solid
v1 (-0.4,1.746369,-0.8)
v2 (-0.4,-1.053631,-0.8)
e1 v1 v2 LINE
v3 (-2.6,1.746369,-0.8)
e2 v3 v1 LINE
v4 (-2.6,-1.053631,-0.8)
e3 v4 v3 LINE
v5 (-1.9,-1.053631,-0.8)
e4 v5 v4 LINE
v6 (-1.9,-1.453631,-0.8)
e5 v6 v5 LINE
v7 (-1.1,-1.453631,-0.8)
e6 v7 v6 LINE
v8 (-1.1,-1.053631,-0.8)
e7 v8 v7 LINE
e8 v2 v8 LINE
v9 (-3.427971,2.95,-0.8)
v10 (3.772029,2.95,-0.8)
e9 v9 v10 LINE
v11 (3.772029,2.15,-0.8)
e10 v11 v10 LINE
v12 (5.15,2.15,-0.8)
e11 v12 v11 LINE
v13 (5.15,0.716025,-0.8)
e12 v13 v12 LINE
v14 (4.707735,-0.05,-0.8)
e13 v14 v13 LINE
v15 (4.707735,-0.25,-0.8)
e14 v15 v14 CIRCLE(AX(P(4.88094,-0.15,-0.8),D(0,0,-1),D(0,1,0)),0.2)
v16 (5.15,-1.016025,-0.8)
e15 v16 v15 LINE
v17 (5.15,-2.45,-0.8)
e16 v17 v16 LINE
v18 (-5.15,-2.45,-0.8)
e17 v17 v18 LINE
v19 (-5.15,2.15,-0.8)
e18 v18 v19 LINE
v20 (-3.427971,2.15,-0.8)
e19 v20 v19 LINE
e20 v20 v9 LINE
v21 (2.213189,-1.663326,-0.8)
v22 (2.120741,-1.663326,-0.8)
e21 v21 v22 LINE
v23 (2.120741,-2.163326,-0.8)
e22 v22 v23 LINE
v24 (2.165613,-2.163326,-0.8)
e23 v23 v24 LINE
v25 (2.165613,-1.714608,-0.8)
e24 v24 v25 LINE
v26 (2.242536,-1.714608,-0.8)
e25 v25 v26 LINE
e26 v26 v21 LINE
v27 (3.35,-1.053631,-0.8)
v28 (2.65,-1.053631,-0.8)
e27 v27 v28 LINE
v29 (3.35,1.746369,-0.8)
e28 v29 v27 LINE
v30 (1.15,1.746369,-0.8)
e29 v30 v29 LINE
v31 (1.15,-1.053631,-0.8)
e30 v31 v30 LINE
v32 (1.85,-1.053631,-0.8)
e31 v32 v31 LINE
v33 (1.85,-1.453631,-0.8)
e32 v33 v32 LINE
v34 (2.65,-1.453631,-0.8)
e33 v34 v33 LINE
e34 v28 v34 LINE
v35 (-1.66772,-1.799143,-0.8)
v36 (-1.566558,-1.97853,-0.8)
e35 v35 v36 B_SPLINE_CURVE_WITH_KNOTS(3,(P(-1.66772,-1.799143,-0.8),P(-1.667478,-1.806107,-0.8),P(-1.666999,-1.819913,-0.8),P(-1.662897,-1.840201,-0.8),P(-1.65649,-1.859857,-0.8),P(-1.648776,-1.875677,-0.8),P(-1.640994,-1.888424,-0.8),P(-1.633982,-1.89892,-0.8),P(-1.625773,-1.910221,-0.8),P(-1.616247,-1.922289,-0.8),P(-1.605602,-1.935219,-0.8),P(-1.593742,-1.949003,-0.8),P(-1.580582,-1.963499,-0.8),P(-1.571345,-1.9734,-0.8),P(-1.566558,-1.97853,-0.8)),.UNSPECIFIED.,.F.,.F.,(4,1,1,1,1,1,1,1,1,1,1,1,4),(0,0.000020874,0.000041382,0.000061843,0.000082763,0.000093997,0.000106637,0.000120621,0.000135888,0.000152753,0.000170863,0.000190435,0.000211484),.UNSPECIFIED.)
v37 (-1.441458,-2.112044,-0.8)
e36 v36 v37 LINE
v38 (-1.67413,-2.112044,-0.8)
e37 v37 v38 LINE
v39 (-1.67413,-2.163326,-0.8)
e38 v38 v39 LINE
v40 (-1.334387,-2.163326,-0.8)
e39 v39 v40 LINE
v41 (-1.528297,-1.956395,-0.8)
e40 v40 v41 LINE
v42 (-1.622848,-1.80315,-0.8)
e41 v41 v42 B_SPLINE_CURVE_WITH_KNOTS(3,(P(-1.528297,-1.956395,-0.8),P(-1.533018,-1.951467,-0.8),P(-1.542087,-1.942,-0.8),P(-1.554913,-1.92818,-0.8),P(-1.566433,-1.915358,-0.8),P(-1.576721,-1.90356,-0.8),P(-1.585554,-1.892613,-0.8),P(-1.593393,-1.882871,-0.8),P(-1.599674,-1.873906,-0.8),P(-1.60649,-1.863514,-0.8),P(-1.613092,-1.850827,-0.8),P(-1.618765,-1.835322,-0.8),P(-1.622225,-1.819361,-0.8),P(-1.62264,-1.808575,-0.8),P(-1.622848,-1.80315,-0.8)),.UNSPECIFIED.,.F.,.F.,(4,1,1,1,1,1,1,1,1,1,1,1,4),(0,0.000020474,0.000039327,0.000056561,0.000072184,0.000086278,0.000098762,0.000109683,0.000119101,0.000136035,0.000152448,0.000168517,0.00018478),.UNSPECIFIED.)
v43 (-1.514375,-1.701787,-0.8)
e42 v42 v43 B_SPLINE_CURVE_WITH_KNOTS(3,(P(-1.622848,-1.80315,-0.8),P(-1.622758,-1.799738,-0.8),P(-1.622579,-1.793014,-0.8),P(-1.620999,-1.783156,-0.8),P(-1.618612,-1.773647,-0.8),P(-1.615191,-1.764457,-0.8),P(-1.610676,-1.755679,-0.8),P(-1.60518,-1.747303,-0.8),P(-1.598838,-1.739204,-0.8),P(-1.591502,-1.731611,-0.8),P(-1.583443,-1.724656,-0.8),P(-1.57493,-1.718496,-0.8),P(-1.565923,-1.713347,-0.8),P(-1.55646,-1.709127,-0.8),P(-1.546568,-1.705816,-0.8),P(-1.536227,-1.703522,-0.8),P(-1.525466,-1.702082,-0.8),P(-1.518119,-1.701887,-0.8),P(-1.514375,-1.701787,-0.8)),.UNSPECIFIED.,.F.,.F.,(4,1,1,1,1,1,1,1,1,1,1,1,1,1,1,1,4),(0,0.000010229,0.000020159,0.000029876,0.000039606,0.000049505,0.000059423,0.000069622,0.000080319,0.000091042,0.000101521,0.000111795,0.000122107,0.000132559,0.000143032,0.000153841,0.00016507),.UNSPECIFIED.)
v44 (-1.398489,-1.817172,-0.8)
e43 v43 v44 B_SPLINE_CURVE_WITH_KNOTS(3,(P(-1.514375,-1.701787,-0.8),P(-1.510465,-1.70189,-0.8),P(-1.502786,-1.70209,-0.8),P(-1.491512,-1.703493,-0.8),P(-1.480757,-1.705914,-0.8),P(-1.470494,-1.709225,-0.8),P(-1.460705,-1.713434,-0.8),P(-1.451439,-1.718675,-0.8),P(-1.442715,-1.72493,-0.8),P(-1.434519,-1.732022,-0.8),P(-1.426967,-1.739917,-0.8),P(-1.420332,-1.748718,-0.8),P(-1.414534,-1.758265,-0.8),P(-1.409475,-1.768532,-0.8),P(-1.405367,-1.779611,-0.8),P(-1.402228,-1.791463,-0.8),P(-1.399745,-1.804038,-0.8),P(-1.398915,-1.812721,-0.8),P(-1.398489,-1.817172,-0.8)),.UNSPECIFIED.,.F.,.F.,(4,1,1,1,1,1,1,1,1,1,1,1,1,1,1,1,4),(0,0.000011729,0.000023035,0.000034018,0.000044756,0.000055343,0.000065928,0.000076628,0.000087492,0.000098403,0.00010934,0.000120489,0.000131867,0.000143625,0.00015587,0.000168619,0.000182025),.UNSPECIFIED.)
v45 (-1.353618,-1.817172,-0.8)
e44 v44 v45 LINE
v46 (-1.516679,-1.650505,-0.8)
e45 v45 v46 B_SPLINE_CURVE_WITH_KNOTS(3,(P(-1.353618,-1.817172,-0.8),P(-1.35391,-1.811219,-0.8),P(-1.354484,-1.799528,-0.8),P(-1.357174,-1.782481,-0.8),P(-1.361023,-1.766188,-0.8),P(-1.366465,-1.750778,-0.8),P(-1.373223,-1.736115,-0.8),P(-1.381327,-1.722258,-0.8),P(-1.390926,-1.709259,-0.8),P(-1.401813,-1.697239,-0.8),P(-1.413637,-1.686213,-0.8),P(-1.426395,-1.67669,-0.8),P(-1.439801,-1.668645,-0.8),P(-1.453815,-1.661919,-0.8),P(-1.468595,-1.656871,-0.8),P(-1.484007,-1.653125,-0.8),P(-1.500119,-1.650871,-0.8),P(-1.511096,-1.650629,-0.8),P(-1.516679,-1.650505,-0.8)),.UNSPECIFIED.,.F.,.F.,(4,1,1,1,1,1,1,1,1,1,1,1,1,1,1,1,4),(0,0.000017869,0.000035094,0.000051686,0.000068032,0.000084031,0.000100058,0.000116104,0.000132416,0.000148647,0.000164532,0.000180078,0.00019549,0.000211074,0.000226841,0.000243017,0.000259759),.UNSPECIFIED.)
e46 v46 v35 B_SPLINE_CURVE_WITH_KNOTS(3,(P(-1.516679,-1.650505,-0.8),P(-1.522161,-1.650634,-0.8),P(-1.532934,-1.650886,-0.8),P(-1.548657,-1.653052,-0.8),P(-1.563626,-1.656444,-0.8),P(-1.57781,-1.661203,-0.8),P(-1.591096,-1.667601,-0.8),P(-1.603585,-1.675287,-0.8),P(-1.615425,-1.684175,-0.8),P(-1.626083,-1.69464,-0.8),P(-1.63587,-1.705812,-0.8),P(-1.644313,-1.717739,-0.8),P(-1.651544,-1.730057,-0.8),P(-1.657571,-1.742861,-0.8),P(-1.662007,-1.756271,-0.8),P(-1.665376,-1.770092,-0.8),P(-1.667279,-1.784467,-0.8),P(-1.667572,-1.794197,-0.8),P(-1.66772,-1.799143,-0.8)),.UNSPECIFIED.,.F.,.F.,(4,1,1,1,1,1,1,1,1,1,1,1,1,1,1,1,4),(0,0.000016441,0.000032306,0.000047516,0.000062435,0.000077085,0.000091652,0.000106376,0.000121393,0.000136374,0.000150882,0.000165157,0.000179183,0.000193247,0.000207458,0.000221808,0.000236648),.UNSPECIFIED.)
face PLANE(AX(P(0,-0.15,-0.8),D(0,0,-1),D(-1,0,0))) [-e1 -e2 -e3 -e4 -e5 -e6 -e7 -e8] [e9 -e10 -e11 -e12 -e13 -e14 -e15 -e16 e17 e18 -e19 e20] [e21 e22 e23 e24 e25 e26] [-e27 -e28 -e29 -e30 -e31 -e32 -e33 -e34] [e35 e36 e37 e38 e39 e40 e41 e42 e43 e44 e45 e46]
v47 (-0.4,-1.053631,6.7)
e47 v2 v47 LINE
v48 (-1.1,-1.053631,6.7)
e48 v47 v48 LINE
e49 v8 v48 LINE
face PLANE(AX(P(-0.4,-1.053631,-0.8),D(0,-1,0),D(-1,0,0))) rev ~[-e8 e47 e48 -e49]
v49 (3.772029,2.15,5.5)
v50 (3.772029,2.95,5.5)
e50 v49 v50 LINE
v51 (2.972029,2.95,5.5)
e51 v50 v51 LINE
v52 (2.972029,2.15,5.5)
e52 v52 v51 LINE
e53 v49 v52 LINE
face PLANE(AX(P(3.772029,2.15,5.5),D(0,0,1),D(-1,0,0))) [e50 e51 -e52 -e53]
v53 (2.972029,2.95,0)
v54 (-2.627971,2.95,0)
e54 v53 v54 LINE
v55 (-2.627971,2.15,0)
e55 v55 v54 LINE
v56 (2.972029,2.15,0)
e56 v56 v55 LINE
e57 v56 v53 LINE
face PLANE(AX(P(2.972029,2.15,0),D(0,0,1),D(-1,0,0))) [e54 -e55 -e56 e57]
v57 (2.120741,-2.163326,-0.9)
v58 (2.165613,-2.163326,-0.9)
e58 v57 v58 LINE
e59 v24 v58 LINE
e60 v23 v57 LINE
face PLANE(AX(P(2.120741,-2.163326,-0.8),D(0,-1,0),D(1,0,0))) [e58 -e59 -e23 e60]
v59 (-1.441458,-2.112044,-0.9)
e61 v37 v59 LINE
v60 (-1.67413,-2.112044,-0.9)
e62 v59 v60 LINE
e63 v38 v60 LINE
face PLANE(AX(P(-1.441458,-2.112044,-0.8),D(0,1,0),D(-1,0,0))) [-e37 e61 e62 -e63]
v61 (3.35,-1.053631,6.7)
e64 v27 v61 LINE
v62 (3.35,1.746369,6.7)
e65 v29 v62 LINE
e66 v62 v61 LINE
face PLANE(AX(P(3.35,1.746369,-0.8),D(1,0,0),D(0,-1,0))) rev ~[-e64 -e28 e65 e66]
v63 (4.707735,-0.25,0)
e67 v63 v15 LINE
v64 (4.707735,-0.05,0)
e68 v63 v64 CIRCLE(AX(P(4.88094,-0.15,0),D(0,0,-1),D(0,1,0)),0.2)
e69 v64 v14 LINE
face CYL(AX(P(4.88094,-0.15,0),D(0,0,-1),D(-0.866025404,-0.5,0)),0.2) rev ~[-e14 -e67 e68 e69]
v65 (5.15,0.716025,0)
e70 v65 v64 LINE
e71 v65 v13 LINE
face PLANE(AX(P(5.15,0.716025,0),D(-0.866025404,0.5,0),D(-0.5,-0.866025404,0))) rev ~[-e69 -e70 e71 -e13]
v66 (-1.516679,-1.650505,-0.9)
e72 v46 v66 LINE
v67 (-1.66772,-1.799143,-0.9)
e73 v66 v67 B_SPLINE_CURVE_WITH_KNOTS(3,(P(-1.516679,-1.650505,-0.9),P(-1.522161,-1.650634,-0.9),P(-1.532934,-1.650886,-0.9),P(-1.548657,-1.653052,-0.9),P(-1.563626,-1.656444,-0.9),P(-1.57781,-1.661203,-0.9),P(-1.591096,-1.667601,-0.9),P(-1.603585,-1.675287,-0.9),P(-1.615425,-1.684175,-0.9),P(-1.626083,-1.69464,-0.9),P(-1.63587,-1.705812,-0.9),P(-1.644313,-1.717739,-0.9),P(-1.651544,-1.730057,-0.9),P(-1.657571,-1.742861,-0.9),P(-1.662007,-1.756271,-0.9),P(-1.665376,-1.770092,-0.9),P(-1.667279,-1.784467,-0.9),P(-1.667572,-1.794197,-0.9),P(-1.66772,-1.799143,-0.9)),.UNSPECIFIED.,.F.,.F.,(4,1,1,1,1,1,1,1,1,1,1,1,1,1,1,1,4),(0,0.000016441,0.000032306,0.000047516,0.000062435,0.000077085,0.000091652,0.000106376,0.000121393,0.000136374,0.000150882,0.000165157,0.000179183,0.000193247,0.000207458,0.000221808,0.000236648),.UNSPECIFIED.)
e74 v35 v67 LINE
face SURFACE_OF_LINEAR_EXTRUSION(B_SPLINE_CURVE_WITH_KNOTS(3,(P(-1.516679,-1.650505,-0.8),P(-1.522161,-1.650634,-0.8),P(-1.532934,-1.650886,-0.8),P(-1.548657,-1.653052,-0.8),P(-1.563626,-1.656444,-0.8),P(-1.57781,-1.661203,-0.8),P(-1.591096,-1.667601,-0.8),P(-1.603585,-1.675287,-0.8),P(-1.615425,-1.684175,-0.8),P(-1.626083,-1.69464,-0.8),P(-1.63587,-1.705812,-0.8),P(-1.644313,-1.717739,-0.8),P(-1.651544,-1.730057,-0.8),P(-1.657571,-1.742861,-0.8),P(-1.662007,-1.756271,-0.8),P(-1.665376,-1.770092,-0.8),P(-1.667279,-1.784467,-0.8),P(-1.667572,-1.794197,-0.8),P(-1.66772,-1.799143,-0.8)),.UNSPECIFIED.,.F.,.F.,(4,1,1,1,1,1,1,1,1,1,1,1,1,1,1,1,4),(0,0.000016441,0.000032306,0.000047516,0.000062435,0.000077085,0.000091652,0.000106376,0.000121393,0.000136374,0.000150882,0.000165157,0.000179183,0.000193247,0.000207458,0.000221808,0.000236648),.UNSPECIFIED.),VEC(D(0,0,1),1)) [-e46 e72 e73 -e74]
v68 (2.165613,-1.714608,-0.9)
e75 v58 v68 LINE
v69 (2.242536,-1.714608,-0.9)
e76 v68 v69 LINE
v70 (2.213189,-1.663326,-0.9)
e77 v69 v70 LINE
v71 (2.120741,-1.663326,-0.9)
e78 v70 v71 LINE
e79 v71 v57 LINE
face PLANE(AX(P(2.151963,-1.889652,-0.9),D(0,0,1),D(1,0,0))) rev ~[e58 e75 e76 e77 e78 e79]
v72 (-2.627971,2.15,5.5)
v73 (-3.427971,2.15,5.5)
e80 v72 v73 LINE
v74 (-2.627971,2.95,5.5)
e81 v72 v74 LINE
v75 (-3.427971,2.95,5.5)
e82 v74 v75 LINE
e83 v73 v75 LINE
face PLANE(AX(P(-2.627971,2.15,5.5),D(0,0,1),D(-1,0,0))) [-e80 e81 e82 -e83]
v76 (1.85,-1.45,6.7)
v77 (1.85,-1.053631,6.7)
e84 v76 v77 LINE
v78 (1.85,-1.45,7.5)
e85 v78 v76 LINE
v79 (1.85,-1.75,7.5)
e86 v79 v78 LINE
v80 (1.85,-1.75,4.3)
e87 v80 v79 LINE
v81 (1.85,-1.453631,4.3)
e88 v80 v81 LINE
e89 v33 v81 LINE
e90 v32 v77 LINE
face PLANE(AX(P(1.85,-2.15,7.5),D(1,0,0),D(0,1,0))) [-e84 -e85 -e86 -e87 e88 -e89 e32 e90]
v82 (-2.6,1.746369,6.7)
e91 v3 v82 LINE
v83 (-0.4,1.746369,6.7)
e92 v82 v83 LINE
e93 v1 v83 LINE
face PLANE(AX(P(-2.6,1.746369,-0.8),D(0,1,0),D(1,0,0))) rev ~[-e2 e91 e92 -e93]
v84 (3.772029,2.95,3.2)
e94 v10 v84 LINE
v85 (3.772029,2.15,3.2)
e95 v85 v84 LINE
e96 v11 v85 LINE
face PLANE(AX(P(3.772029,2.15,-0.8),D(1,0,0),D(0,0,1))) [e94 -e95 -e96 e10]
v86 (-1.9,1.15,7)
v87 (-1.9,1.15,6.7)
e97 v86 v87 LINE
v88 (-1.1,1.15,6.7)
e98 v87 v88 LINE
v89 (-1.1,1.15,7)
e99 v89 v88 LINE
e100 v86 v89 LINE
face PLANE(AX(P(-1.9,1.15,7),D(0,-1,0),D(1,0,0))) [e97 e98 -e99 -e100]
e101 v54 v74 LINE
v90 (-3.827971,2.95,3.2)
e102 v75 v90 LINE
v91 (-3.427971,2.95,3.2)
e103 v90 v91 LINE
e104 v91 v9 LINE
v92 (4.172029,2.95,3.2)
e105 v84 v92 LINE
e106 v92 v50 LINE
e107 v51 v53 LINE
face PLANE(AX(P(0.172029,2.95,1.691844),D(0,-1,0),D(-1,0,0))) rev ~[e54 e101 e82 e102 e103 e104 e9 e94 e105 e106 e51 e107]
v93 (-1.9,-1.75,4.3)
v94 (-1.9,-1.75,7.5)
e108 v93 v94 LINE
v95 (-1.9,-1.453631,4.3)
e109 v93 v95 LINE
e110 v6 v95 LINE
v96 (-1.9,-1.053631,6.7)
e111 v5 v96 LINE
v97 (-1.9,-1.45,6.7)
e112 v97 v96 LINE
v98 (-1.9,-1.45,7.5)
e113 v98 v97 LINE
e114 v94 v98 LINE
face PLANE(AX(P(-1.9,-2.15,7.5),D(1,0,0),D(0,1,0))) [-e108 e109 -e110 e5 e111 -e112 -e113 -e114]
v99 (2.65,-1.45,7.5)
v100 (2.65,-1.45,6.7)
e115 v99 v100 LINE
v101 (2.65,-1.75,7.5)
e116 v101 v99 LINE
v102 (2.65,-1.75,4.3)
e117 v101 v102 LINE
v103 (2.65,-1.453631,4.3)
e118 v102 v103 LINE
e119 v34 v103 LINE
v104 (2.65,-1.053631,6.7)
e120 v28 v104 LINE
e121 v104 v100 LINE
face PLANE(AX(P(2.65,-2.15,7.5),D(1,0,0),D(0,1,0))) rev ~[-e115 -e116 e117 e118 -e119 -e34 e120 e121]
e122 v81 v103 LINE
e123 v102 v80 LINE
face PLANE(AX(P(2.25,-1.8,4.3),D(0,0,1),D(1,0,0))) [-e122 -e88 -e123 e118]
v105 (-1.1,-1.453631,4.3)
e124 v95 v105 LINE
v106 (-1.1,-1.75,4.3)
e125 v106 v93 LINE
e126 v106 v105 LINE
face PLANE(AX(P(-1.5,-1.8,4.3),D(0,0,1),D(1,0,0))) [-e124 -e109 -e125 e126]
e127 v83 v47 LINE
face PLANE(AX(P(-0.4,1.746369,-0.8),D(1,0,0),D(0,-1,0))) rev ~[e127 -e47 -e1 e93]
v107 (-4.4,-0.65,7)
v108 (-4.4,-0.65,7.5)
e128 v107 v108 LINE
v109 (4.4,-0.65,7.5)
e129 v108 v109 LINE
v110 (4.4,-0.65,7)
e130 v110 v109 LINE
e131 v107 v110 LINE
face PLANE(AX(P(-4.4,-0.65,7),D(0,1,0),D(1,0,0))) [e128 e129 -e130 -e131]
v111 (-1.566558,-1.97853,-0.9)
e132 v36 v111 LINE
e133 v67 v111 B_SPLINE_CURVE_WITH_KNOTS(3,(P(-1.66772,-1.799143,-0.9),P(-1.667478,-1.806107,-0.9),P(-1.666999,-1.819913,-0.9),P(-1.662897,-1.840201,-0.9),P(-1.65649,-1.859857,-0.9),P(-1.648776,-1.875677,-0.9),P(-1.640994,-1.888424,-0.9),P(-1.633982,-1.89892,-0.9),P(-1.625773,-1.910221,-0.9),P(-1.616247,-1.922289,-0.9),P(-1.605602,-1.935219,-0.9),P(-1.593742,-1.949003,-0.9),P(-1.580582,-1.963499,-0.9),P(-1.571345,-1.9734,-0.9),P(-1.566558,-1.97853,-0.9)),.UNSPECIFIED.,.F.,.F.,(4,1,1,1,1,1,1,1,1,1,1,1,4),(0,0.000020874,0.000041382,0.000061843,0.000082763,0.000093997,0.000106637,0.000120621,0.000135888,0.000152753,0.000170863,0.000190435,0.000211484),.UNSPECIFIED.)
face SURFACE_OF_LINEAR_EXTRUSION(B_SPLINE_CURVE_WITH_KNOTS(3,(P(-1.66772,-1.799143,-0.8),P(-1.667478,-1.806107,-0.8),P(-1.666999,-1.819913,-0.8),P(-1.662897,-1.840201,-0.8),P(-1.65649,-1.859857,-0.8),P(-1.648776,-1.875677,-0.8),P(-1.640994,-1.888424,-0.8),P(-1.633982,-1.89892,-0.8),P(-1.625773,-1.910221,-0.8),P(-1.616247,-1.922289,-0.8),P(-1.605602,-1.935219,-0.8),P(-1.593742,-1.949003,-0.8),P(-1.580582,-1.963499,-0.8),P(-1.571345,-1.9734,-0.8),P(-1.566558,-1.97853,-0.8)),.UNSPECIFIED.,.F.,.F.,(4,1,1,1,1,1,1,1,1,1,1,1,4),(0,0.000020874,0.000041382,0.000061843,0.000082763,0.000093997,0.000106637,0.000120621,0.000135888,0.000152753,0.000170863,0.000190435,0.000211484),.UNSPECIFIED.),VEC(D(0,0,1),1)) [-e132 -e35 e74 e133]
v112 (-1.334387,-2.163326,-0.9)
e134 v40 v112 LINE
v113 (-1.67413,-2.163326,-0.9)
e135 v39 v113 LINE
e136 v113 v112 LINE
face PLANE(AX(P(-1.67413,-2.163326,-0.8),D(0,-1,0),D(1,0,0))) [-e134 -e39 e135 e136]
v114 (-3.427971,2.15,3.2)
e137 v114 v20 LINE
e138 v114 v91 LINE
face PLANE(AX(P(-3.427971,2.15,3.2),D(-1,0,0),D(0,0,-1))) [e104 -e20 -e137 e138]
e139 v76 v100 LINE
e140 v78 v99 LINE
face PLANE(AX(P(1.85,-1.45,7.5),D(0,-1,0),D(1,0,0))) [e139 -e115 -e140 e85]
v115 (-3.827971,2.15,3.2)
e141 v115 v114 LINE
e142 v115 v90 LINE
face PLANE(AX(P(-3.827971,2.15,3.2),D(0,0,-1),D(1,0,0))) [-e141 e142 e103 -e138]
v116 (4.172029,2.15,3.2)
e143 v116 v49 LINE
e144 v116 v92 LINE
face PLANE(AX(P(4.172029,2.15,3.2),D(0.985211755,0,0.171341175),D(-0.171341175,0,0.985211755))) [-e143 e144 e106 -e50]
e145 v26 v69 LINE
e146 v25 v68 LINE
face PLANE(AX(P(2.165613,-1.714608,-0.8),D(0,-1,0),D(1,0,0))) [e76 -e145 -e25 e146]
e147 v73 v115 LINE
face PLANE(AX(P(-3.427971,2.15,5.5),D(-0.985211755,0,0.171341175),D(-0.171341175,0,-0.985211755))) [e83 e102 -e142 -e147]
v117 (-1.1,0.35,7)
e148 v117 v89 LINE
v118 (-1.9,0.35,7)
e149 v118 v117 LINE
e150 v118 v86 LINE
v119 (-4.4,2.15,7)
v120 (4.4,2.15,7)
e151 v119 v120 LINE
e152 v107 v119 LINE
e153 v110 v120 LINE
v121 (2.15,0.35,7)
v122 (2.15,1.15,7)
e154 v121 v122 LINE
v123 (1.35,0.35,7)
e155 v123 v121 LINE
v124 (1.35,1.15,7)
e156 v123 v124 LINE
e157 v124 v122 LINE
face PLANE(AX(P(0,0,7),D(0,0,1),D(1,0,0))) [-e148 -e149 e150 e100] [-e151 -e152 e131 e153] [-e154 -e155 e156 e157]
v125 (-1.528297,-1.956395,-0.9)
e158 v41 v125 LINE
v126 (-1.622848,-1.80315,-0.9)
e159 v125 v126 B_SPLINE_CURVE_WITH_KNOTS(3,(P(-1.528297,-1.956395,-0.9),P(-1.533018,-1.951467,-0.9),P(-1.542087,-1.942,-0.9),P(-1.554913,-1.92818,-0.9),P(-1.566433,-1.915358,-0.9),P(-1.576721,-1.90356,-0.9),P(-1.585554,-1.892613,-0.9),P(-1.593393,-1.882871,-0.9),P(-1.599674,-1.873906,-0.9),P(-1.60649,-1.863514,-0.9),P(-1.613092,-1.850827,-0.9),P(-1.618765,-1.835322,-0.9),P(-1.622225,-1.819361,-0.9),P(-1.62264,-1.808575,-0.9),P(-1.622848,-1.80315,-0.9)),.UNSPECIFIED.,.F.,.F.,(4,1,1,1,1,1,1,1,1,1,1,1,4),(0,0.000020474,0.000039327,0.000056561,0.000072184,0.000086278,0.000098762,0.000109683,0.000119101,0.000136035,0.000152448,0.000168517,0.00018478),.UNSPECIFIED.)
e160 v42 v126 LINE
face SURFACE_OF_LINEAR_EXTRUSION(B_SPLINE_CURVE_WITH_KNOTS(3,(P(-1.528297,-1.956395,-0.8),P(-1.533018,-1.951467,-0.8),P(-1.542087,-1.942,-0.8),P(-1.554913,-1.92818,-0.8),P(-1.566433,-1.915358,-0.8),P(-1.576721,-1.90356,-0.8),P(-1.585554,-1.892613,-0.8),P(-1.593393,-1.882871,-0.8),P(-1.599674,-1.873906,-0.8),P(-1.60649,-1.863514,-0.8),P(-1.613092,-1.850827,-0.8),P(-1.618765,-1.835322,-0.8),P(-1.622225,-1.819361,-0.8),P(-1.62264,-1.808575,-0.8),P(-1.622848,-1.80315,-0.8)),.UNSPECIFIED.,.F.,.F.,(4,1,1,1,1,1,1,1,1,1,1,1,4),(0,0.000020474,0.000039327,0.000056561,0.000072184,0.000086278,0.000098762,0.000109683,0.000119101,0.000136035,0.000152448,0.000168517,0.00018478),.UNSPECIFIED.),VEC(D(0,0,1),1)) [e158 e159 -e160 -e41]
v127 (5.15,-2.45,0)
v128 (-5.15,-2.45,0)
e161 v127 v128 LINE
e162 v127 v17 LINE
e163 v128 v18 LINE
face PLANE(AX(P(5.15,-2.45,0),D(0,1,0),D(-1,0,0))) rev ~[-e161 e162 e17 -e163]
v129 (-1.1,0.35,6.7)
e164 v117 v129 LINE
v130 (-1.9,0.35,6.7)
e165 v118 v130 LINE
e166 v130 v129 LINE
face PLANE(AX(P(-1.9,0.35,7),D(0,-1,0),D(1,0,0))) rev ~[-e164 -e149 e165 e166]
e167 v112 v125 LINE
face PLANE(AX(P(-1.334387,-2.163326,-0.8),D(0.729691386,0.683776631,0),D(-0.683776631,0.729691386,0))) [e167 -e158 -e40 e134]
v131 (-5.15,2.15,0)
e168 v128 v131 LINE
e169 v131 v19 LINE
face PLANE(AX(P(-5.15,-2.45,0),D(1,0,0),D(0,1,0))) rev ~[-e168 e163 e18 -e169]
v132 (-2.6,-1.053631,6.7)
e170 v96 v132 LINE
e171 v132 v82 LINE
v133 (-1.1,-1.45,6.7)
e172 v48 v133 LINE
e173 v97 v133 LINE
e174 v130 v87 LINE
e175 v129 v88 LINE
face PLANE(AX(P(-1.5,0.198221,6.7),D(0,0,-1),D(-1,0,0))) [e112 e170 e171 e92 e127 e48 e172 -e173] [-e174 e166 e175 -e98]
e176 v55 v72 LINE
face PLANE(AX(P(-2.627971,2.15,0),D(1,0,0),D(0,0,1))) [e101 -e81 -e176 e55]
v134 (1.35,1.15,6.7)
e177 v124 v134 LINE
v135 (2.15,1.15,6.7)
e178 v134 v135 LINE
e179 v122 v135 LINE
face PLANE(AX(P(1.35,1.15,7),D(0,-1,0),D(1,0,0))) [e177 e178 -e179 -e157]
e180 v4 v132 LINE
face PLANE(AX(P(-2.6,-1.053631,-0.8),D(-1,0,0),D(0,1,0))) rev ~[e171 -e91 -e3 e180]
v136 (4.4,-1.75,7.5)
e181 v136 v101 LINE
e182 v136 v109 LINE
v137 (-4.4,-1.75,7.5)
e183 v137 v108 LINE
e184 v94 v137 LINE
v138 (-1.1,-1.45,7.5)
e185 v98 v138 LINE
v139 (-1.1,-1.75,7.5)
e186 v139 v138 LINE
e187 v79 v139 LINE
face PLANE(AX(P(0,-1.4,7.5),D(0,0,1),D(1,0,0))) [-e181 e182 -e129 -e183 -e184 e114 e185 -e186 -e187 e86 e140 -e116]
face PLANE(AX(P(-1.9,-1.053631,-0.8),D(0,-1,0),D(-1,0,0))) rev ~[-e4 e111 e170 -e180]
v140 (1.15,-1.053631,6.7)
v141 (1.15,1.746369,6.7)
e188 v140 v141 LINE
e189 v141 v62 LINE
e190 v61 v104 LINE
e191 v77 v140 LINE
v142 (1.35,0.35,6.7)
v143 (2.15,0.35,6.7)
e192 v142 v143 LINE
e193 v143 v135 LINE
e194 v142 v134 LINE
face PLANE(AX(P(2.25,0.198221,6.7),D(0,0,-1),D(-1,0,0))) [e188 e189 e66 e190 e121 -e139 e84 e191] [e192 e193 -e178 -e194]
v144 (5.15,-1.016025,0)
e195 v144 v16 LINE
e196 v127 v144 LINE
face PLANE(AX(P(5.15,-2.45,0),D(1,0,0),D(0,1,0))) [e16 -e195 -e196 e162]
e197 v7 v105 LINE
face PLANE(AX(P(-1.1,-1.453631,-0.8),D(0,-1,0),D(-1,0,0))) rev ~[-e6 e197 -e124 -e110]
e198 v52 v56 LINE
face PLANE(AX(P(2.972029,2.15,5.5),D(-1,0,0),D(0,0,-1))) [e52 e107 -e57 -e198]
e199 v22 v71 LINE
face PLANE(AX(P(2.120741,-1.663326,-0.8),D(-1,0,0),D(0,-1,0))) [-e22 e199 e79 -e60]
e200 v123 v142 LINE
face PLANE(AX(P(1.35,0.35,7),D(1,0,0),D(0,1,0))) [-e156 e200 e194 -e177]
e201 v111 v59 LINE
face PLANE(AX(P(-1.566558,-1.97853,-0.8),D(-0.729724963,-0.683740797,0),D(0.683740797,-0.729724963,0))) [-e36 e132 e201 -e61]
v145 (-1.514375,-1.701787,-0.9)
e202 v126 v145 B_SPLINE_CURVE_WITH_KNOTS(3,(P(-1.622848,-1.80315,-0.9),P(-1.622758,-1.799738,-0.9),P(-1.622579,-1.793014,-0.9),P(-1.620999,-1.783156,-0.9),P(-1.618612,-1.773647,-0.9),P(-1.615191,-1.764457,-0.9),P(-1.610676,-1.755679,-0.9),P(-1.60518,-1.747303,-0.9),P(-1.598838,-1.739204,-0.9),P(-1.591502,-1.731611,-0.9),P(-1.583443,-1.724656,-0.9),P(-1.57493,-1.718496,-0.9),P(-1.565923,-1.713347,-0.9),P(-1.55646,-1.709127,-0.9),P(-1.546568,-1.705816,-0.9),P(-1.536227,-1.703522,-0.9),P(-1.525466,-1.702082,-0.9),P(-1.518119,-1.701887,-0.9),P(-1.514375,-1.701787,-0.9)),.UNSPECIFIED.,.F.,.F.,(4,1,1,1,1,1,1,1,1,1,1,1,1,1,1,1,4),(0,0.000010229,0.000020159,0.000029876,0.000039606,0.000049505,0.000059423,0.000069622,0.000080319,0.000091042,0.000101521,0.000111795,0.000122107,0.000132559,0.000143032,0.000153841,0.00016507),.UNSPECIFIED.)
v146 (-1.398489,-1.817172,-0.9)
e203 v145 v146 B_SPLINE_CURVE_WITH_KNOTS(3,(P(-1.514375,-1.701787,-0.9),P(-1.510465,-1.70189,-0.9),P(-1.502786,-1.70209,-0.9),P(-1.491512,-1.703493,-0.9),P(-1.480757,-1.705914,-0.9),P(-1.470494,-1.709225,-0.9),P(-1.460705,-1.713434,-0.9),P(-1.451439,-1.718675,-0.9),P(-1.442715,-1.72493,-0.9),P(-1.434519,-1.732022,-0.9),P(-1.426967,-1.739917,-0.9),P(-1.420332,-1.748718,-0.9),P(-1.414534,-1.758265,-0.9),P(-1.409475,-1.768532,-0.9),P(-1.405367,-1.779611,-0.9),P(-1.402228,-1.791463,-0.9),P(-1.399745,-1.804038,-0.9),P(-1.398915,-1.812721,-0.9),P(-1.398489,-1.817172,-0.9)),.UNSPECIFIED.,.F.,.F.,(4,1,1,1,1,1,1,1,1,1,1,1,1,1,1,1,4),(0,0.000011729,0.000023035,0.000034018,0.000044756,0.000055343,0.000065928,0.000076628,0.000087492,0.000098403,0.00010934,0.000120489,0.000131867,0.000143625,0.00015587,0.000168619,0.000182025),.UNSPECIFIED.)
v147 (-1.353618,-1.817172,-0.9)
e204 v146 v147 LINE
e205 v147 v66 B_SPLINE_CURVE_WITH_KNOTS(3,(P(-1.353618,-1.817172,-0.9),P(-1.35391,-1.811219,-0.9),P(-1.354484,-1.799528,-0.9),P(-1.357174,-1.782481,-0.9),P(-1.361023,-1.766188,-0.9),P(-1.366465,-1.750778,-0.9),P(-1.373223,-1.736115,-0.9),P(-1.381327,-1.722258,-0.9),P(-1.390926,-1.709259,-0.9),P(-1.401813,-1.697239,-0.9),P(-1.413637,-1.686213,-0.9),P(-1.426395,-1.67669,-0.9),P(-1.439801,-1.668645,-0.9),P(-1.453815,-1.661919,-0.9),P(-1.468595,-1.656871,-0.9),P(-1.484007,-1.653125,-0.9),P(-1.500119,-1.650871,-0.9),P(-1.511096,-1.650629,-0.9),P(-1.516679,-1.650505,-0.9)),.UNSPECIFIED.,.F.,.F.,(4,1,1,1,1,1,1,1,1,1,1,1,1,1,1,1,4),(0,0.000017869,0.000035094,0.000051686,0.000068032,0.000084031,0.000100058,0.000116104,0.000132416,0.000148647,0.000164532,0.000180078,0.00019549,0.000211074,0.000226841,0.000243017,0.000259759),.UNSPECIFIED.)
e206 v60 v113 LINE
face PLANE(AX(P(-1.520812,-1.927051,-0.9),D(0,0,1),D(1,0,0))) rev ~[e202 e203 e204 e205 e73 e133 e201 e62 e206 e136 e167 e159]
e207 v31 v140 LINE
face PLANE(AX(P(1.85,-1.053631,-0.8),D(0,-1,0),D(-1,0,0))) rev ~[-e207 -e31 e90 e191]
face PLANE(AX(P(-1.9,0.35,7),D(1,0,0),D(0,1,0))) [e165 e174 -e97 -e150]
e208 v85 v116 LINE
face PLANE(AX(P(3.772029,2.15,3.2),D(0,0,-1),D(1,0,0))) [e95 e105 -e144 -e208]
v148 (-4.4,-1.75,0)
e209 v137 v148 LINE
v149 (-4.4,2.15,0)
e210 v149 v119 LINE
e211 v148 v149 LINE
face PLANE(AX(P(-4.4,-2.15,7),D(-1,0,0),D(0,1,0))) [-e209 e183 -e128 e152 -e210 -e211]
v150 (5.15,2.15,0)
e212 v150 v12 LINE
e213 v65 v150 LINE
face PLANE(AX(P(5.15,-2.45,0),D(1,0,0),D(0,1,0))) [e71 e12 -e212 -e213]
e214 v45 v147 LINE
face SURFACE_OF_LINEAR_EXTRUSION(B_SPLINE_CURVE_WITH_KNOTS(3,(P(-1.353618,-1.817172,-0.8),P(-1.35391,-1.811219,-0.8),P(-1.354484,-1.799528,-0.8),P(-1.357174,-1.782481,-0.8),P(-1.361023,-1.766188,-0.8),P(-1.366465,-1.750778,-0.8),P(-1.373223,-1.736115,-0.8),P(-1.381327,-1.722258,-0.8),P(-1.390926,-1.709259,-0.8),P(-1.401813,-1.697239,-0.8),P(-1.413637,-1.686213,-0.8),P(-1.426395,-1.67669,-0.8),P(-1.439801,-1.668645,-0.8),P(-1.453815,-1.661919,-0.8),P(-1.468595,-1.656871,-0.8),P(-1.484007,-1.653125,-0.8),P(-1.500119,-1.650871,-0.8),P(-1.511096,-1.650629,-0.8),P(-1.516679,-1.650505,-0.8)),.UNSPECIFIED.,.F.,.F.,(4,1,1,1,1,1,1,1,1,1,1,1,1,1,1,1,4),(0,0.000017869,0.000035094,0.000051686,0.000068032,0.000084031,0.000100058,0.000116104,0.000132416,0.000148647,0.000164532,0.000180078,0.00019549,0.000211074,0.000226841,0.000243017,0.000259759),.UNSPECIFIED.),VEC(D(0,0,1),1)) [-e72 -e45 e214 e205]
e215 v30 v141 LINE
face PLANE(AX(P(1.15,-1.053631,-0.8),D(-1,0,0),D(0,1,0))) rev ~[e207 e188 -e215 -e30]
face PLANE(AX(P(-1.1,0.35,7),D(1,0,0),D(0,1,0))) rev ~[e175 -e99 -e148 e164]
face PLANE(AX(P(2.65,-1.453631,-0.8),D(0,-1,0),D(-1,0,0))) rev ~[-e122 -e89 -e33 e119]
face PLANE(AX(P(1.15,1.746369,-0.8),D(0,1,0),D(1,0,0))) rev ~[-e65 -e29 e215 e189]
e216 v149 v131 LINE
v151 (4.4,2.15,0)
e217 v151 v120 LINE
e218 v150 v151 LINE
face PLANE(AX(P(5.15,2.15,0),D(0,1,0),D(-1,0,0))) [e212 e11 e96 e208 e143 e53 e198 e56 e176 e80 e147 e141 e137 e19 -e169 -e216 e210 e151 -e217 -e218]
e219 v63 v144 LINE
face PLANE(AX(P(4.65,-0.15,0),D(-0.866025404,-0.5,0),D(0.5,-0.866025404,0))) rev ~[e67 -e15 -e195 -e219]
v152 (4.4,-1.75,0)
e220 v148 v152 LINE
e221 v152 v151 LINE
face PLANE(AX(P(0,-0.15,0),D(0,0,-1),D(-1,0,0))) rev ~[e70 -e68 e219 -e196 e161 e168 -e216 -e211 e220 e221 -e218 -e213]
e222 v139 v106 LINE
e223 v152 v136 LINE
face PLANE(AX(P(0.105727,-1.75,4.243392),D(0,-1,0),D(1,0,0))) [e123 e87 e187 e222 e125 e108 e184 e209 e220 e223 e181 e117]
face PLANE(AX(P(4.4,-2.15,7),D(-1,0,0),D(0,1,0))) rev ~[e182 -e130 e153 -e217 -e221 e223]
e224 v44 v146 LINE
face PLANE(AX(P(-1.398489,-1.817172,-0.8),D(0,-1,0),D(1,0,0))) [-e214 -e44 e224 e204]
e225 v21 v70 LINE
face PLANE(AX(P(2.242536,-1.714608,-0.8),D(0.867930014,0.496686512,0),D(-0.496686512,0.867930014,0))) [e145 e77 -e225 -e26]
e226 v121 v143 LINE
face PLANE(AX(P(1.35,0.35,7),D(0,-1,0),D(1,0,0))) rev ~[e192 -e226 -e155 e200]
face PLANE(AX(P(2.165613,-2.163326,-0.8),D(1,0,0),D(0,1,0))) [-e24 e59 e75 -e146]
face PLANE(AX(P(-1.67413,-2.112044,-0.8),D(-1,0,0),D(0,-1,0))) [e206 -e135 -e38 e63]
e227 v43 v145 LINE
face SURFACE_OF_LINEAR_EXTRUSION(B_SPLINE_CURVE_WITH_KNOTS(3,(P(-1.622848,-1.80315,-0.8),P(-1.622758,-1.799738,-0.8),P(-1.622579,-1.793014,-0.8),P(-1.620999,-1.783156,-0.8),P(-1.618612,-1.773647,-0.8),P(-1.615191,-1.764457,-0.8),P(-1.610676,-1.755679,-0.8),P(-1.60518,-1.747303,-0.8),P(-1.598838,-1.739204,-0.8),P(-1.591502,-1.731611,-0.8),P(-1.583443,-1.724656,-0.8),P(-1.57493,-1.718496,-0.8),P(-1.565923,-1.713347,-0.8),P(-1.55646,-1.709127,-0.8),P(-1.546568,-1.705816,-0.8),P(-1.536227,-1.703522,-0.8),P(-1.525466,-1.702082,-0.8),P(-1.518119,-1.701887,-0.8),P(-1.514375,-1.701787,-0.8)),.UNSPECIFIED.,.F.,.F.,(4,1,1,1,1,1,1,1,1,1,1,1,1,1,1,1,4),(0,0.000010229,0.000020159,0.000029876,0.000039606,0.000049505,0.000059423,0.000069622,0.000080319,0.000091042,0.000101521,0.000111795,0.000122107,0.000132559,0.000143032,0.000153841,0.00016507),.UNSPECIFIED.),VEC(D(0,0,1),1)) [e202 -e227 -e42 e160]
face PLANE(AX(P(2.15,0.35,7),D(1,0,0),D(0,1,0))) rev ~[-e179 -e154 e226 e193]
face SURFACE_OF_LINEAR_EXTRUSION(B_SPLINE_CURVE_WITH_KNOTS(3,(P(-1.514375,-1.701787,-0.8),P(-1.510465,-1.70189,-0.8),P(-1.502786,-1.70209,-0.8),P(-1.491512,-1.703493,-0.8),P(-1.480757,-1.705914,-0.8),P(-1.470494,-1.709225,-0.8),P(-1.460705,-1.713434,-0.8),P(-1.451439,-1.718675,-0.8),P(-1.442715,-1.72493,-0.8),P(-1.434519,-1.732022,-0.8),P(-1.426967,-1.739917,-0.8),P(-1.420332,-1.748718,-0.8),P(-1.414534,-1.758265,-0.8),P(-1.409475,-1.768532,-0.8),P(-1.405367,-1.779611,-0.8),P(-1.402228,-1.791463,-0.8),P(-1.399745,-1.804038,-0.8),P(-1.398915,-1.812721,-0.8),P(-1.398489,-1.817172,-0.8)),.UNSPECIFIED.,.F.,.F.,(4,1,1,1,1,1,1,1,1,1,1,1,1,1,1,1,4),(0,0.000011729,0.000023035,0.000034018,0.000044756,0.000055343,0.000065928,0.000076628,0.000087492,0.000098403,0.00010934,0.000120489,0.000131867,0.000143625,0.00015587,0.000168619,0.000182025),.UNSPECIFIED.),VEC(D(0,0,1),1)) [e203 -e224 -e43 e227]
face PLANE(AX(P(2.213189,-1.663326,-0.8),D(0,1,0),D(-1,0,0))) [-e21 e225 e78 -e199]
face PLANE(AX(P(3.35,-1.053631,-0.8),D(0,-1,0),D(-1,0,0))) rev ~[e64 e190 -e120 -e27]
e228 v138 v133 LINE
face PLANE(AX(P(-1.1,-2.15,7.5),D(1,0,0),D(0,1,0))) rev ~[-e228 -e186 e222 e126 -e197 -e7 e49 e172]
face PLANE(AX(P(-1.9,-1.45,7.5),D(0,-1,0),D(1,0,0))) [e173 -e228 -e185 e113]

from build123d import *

# Parameters (mm, degrees)
SKETCH1_W           = 8.8
SKETCH1_H           = 4.3
BOSS_EXTRUDE1_DEPTH = 7
SKETCH2_W           = 10.3
SKETCH2_H           = 4.6
BOSS_EXTRUDE2_DEPTH = 0.8
CUT_EXTRUDE1_DEPTH  = 1
FILLET1_R           = 0.2
SKETCH4_W           = 8.8
SKETCH4_H           = 1.5
BOSS_EXTRUDE3_DEPTH = 0.5
SKETCH5_W           = 0.8
SKETCH5_H           = 0.7
CUT_EXTRUDE2_DEPTH  = 3.2
SKETCH6_W           = 0.8
SKETCH6_H           = 0.8
CUT_EXTRUDE3_DEPTH  = 10
BOSS_EXTRUDE4_DEPTH = 0.8
CUT_EXTRUDE4_DEPTH  = 7.5
CUT_EXTRUDE5_DEPTH  = 0.4
BOSS_EXTRUDE5_DEPTH = 0.1


with BuildPart() as part:
    # Sketch1 → Boss-Extrude1 (new body)
    with BuildSketch(Plane.XY):
        Rectangle(SKETCH1_W, SKETCH1_H)
    extrude(amount=BOSS_EXTRUDE1_DEPTH)

    # Sketch2 → Boss-Extrude2 (add)
    with BuildSketch(Plane(origin=(0, 0, 0), x_dir=(-1, 0, 0), z_dir=(0, 0, -1))):
        with Locations((0, -0.15)):
            Rectangle(SKETCH2_W, SKETCH2_H)
    extrude(amount=BOSS_EXTRUDE2_DEPTH)

    # Sketch3 → Cut-Extrude1 (cut)
    with BuildSketch(Plane.XY):
        Polygon((4.65, -0.15), (5.15, -1.016025404), (5.15, 0.716025404), align=None)
    extrude(amount=-CUT_EXTRUDE1_DEPTH, mode=Mode.SUBTRACT)

    # Fillet1
    fillet1_edges = [part.edges().sort_by_distance(p)[0] for p in [
        (4.65, -0.15, -0.4),
    ]]
    fillet(fillet1_edges, radius=FILLET1_R)

    # Sketch4 → Boss-Extrude3 (add)
    with BuildSketch(Plane.XY.offset(7)):
        with Locations((0, -1.4)):
            Rectangle(SKETCH4_W, SKETCH4_H)
    extrude(amount=BOSS_EXTRUDE3_DEPTH)

    # Sketch5 → Cut-Extrude2 (cut)
    with BuildSketch(Plane.XY.offset(7.5)):
        with Locations((-1.5, -1.8)):
            Rectangle(SKETCH5_W, SKETCH5_H)
        with Locations((2.25, -1.8)):
            Rectangle(SKETCH5_W, SKETCH5_H)
    extrude(amount=-CUT_EXTRUDE2_DEPTH, mode=Mode.SUBTRACT)

    # Sketch6 → Cut-Extrude3 (cut)
    with BuildSketch(Plane.XY.offset(7)):
        with Locations((-1.5, 0.75)):
            Rectangle(SKETCH6_W, SKETCH6_H)
        with Locations((1.75, 0.75)):
            Rectangle(SKETCH6_W, SKETCH6_H)
    extrude(amount=-CUT_EXTRUDE3_DEPTH, mode=Mode.SUBTRACT)

    # Sketch7 → Boss-Extrude4 (add)
    with BuildSketch(Plane(origin=(0, 2.15, 0), x_dir=(1, 0, 0), z_dir=(0, 1, 0))):
        Polygon((-3.427970594, -5.5), (-3.827970594, -3.2), (-3.427970594, -3.2), (-3.427970594, 0.8), (3.772029406, 0.8), (3.772029406, -3.2), (4.172029406, -3.2), (3.772029406, -5.5), (2.972029406, -5.5), (2.972029406, 0), (-2.627970594, 0), (-2.627970594, -5.5), align=None)
    extrude(amount=BOSS_EXTRUDE4_DEPTH)

    # Sketch8 → Cut-Extrude4 (cut)
    with BuildSketch(Plane(origin=(0, 0, -0.8), x_dir=(-1, 0, 0), z_dir=(0, 0, -1))):
        Polygon((2.6, 1.746369259), (0.4, 1.746369259), (0.4, -1.053630741), (1.1, -1.053630741), (1.1, -1.453630741), (1.9, -1.453630741), (1.9, -1.053630741), (2.6, -1.053630741), align=None)
        Polygon((-1.15, 1.746369259), (-3.35, 1.746369259), (-3.35, -1.053630741), (-2.65, -1.053630741), (-2.65, -1.453630741), (-1.85, -1.453630741), (-1.85, -1.053630741), (-1.15, -1.053630741), align=None)
    extrude(amount=-CUT_EXTRUDE4_DEPTH, mode=Mode.SUBTRACT)

    # Sketch9 → Cut-Extrude5 (cut)
    with BuildSketch(Plane.XZ.offset(2.15)):
        Polygon((2.65, 7.5), (2.65, 4.3), (1.85, 4.3), (1.85, 7.5), (-1.1, 7.5), (-1.1, 4.3), (-1.9, 4.3), (-1.9, 7.5), (-4.4, 7.5), (-4.4, 0), (4.4, 0), (4.4, 7.5), align=None)
    extrude(amount=-CUT_EXTRUDE5_DEPTH, mode=Mode.SUBTRACT)

    # Sketch10 → Boss-Extrude5 (add)
    with BuildSketch(Plane(origin=(0, 0, -0.8), x_dir=(-1, 0, 0), z_dir=(0, 0, -1))):
        Polygon((-2.213189244, -1.663325944), (-2.120741327, -1.663325944), (-2.120741327, -2.163325944), (-2.165613122, -2.163325944), (-2.165613122, -1.714607995), (-2.242536199, -1.714607995), align=None)
        with BuildLine():
            Line((1.398489442, -1.817172097), (1.353617647, -1.817172097))
            add(Edge.make_bspline(
                [(1.353617647, -1.817172097), (1.353910097, -1.811219114), (1.354484462, -1.799527611), (1.357174218, -1.782481339), (1.361022915, -1.766187796), (1.366464551, -1.750777809), (1.373222591, -1.736115122), (1.38132688, -1.722257977), (1.390926002, -1.709259236), (1.401812678, -1.697239401), (1.413636769, -1.686212605), (1.426394761, -1.676690427), (1.439801193, -1.668645046), (1.453815393, -1.661919154), (1.468595473, -1.656870605), (1.48400731, -1.653124656), (1.500118616, -1.650870893), (1.511095762, -1.650628637), (1.516678544, -1.650505431)],
                knots=[0, 0, 0, 0, 1.7869e-05, 3.5094e-05, 5.1686e-05, 6.8032e-05, 8.4031e-05, 0.000100058, 0.000116104, 0.000132416, 0.000148647, 0.000164532, 0.000180078, 0.00019549, 0.000211074, 0.000226841, 0.000243017, 0.000259759, 0.000259759, 0.000259759, 0.000259759], degree=3))
            add(Edge.make_bspline(
                [(1.516678544, -1.650505431), (1.522161126, -1.650633782), (1.532934204, -1.650885987), (1.548657349, -1.653051848), (1.563625534, -1.656444075), (1.577809501, -1.661203421), (1.591096081, -1.667601196), (1.603585088, -1.675286559), (1.615425204, -1.684175106), (1.626083316, -1.694639936), (1.635870184, -1.705811706), (1.644313363, -1.717738549), (1.651543815, -1.730057018), (1.657570627, -1.742861047), (1.662007218, -1.756271194), (1.665375533, -1.770092223), (1.66727945, -1.784467196), (1.667571653, -1.794196704), (1.667720211, -1.799143251)],
                knots=[0, 0, 0, 0, 1.6441e-05, 3.2306e-05, 4.7516e-05, 6.2435e-05, 7.7085e-05, 9.1652e-05, 0.000106376, 0.000121393, 0.000136374, 0.000150882, 0.000165157, 0.000179183, 0.000193247, 0.000207458, 0.000221808, 0.000236648, 0.000236648, 0.000236648, 0.000236648], degree=3))
            add(Edge.make_bspline(
                [(1.667720211, -1.799143251), (1.667478316, -1.806107228), (1.666998772, -1.819912973), (1.662896718, -1.84020081), (1.656490074, -1.859857013), (1.648776166, -1.875676627), (1.640994388, -1.888424269), (1.633981887, -1.898919799), (1.625772628, -1.91022058), (1.616247128, -1.922288771), (1.605602432, -1.9352189), (1.593742123, -1.949003157), (1.580581626, -1.963499124), (1.571344697, -1.973399924), (1.566558352, -1.978530271)],
                knots=[0, 0, 0, 0, 2.0874e-05, 4.1382e-05, 6.1843e-05, 8.2763e-05, 9.3997e-05, 0.000106637, 0.000120621, 0.000135888, 0.000152753, 0.000170863, 0.000190435, 0.000211484, 0.000211484, 0.000211484, 0.000211484], degree=3))
            Line((1.566558352, -1.978530271), (1.441458192, -2.112043892))
            Line((1.441458192, -2.112043892), (1.674130467, -2.112043892))
            Line((1.674130467, -2.112043892), (1.674130467, -2.163325944))
            Line((1.674130467, -2.163325944), (1.334386878, -2.163325944))
            Line((1.334386878, -2.163325944), (1.528297134, -1.956394854))
            add(Edge.make_bspline(
                [(1.528297134, -1.956394854), (1.533018261, -1.951466524), (1.542086579, -1.942000212), (1.554912661, -1.928179789), (1.566432517, -1.915358426), (1.576720716, -1.903560348), (1.585554074, -1.892612981), (1.593392964, -1.88287088), (1.599673763, -1.873905959), (1.606490248, -1.863514443), (1.613092245, -1.850826969), (1.618765439, -1.835322156), (1.622224703, -1.81936112), (1.622639679, -1.808575115), (1.622848416, -1.803149662)],
                knots=[0, 0, 0, 0, 2.0474e-05, 3.9327e-05, 5.6561e-05, 7.2184e-05, 8.6278e-05, 9.8762e-05, 0.000109683, 0.000119101, 0.000136035, 0.000152448, 0.000168517, 0.00018478, 0.00018478, 0.00018478, 0.00018478], degree=3))
            add(Edge.make_bspline(
                [(1.622848416, -1.803149662), (1.622757596, -1.799738033), (1.622578606, -1.793014369), (1.620998935, -1.783156403), (1.61861172, -1.773647144), (1.615190969, -1.764457341), (1.61067572, -1.755679391), (1.605179523, -1.747302608), (1.598838086, -1.739204185), (1.59150219, -1.731610856), (1.583443402, -1.724656398), (1.574929937, -1.718495815), (1.56592278, -1.71334737), (1.556459905, -1.709126871), (1.546567695, -1.705816102), (1.536227017, -1.703522019), (1.525466443, -1.702081664), (1.518118801, -1.701886783), (1.514374859, -1.701787482)],
                knots=[0, 0, 0, 0, 1.0229e-05, 2.0159e-05, 2.9876e-05, 3.9606e-05, 4.9505e-05, 5.9423e-05, 6.9622e-05, 8.0319e-05, 9.1042e-05, 0.000101521, 0.000111795, 0.000122107, 0.000132559, 0.000143032, 0.000153841, 0.00016507, 0.00016507, 0.00016507, 0.00016507], degree=3))
            add(Edge.make_bspline(
                [(1.514374859, -1.701787482), (1.51046474, -1.70188963), (1.502785912, -1.70209023), (1.491511764, -1.703493468), (1.480756653, -1.705914302), (1.470493524, -1.709225256), (1.460705012, -1.71343362), (1.45143872, -1.718675298), (1.44271545, -1.724930083), (1.434518804, -1.732021591), (1.426966807, -1.739916962), (1.420331539, -1.748718385), (1.414533822, -1.758265159), (1.40947536, -1.768531523), (1.405367405, -1.779610635), (1.402228383, -1.791463164), (1.399744548, -1.804037647), (1.398914759, -1.812721231), (1.398489442, -1.817172097)],
                knots=[0, 0, 0, 0, 1.1729e-05, 2.3035e-05, 3.4018e-05, 4.4756e-05, 5.5343e-05, 6.5928e-05, 7.6628e-05, 8.7492e-05, 9.8403e-05, 0.00010934, 0.000120489, 0.000131867, 0.000143625, 0.00015587, 0.000168619, 0.000182025, 0.000182025, 0.000182025, 0.000182025], degree=3))
        make_face()
    extrude(amount=BOSS_EXTRUDE5_DEPTH)


solid = part.part
